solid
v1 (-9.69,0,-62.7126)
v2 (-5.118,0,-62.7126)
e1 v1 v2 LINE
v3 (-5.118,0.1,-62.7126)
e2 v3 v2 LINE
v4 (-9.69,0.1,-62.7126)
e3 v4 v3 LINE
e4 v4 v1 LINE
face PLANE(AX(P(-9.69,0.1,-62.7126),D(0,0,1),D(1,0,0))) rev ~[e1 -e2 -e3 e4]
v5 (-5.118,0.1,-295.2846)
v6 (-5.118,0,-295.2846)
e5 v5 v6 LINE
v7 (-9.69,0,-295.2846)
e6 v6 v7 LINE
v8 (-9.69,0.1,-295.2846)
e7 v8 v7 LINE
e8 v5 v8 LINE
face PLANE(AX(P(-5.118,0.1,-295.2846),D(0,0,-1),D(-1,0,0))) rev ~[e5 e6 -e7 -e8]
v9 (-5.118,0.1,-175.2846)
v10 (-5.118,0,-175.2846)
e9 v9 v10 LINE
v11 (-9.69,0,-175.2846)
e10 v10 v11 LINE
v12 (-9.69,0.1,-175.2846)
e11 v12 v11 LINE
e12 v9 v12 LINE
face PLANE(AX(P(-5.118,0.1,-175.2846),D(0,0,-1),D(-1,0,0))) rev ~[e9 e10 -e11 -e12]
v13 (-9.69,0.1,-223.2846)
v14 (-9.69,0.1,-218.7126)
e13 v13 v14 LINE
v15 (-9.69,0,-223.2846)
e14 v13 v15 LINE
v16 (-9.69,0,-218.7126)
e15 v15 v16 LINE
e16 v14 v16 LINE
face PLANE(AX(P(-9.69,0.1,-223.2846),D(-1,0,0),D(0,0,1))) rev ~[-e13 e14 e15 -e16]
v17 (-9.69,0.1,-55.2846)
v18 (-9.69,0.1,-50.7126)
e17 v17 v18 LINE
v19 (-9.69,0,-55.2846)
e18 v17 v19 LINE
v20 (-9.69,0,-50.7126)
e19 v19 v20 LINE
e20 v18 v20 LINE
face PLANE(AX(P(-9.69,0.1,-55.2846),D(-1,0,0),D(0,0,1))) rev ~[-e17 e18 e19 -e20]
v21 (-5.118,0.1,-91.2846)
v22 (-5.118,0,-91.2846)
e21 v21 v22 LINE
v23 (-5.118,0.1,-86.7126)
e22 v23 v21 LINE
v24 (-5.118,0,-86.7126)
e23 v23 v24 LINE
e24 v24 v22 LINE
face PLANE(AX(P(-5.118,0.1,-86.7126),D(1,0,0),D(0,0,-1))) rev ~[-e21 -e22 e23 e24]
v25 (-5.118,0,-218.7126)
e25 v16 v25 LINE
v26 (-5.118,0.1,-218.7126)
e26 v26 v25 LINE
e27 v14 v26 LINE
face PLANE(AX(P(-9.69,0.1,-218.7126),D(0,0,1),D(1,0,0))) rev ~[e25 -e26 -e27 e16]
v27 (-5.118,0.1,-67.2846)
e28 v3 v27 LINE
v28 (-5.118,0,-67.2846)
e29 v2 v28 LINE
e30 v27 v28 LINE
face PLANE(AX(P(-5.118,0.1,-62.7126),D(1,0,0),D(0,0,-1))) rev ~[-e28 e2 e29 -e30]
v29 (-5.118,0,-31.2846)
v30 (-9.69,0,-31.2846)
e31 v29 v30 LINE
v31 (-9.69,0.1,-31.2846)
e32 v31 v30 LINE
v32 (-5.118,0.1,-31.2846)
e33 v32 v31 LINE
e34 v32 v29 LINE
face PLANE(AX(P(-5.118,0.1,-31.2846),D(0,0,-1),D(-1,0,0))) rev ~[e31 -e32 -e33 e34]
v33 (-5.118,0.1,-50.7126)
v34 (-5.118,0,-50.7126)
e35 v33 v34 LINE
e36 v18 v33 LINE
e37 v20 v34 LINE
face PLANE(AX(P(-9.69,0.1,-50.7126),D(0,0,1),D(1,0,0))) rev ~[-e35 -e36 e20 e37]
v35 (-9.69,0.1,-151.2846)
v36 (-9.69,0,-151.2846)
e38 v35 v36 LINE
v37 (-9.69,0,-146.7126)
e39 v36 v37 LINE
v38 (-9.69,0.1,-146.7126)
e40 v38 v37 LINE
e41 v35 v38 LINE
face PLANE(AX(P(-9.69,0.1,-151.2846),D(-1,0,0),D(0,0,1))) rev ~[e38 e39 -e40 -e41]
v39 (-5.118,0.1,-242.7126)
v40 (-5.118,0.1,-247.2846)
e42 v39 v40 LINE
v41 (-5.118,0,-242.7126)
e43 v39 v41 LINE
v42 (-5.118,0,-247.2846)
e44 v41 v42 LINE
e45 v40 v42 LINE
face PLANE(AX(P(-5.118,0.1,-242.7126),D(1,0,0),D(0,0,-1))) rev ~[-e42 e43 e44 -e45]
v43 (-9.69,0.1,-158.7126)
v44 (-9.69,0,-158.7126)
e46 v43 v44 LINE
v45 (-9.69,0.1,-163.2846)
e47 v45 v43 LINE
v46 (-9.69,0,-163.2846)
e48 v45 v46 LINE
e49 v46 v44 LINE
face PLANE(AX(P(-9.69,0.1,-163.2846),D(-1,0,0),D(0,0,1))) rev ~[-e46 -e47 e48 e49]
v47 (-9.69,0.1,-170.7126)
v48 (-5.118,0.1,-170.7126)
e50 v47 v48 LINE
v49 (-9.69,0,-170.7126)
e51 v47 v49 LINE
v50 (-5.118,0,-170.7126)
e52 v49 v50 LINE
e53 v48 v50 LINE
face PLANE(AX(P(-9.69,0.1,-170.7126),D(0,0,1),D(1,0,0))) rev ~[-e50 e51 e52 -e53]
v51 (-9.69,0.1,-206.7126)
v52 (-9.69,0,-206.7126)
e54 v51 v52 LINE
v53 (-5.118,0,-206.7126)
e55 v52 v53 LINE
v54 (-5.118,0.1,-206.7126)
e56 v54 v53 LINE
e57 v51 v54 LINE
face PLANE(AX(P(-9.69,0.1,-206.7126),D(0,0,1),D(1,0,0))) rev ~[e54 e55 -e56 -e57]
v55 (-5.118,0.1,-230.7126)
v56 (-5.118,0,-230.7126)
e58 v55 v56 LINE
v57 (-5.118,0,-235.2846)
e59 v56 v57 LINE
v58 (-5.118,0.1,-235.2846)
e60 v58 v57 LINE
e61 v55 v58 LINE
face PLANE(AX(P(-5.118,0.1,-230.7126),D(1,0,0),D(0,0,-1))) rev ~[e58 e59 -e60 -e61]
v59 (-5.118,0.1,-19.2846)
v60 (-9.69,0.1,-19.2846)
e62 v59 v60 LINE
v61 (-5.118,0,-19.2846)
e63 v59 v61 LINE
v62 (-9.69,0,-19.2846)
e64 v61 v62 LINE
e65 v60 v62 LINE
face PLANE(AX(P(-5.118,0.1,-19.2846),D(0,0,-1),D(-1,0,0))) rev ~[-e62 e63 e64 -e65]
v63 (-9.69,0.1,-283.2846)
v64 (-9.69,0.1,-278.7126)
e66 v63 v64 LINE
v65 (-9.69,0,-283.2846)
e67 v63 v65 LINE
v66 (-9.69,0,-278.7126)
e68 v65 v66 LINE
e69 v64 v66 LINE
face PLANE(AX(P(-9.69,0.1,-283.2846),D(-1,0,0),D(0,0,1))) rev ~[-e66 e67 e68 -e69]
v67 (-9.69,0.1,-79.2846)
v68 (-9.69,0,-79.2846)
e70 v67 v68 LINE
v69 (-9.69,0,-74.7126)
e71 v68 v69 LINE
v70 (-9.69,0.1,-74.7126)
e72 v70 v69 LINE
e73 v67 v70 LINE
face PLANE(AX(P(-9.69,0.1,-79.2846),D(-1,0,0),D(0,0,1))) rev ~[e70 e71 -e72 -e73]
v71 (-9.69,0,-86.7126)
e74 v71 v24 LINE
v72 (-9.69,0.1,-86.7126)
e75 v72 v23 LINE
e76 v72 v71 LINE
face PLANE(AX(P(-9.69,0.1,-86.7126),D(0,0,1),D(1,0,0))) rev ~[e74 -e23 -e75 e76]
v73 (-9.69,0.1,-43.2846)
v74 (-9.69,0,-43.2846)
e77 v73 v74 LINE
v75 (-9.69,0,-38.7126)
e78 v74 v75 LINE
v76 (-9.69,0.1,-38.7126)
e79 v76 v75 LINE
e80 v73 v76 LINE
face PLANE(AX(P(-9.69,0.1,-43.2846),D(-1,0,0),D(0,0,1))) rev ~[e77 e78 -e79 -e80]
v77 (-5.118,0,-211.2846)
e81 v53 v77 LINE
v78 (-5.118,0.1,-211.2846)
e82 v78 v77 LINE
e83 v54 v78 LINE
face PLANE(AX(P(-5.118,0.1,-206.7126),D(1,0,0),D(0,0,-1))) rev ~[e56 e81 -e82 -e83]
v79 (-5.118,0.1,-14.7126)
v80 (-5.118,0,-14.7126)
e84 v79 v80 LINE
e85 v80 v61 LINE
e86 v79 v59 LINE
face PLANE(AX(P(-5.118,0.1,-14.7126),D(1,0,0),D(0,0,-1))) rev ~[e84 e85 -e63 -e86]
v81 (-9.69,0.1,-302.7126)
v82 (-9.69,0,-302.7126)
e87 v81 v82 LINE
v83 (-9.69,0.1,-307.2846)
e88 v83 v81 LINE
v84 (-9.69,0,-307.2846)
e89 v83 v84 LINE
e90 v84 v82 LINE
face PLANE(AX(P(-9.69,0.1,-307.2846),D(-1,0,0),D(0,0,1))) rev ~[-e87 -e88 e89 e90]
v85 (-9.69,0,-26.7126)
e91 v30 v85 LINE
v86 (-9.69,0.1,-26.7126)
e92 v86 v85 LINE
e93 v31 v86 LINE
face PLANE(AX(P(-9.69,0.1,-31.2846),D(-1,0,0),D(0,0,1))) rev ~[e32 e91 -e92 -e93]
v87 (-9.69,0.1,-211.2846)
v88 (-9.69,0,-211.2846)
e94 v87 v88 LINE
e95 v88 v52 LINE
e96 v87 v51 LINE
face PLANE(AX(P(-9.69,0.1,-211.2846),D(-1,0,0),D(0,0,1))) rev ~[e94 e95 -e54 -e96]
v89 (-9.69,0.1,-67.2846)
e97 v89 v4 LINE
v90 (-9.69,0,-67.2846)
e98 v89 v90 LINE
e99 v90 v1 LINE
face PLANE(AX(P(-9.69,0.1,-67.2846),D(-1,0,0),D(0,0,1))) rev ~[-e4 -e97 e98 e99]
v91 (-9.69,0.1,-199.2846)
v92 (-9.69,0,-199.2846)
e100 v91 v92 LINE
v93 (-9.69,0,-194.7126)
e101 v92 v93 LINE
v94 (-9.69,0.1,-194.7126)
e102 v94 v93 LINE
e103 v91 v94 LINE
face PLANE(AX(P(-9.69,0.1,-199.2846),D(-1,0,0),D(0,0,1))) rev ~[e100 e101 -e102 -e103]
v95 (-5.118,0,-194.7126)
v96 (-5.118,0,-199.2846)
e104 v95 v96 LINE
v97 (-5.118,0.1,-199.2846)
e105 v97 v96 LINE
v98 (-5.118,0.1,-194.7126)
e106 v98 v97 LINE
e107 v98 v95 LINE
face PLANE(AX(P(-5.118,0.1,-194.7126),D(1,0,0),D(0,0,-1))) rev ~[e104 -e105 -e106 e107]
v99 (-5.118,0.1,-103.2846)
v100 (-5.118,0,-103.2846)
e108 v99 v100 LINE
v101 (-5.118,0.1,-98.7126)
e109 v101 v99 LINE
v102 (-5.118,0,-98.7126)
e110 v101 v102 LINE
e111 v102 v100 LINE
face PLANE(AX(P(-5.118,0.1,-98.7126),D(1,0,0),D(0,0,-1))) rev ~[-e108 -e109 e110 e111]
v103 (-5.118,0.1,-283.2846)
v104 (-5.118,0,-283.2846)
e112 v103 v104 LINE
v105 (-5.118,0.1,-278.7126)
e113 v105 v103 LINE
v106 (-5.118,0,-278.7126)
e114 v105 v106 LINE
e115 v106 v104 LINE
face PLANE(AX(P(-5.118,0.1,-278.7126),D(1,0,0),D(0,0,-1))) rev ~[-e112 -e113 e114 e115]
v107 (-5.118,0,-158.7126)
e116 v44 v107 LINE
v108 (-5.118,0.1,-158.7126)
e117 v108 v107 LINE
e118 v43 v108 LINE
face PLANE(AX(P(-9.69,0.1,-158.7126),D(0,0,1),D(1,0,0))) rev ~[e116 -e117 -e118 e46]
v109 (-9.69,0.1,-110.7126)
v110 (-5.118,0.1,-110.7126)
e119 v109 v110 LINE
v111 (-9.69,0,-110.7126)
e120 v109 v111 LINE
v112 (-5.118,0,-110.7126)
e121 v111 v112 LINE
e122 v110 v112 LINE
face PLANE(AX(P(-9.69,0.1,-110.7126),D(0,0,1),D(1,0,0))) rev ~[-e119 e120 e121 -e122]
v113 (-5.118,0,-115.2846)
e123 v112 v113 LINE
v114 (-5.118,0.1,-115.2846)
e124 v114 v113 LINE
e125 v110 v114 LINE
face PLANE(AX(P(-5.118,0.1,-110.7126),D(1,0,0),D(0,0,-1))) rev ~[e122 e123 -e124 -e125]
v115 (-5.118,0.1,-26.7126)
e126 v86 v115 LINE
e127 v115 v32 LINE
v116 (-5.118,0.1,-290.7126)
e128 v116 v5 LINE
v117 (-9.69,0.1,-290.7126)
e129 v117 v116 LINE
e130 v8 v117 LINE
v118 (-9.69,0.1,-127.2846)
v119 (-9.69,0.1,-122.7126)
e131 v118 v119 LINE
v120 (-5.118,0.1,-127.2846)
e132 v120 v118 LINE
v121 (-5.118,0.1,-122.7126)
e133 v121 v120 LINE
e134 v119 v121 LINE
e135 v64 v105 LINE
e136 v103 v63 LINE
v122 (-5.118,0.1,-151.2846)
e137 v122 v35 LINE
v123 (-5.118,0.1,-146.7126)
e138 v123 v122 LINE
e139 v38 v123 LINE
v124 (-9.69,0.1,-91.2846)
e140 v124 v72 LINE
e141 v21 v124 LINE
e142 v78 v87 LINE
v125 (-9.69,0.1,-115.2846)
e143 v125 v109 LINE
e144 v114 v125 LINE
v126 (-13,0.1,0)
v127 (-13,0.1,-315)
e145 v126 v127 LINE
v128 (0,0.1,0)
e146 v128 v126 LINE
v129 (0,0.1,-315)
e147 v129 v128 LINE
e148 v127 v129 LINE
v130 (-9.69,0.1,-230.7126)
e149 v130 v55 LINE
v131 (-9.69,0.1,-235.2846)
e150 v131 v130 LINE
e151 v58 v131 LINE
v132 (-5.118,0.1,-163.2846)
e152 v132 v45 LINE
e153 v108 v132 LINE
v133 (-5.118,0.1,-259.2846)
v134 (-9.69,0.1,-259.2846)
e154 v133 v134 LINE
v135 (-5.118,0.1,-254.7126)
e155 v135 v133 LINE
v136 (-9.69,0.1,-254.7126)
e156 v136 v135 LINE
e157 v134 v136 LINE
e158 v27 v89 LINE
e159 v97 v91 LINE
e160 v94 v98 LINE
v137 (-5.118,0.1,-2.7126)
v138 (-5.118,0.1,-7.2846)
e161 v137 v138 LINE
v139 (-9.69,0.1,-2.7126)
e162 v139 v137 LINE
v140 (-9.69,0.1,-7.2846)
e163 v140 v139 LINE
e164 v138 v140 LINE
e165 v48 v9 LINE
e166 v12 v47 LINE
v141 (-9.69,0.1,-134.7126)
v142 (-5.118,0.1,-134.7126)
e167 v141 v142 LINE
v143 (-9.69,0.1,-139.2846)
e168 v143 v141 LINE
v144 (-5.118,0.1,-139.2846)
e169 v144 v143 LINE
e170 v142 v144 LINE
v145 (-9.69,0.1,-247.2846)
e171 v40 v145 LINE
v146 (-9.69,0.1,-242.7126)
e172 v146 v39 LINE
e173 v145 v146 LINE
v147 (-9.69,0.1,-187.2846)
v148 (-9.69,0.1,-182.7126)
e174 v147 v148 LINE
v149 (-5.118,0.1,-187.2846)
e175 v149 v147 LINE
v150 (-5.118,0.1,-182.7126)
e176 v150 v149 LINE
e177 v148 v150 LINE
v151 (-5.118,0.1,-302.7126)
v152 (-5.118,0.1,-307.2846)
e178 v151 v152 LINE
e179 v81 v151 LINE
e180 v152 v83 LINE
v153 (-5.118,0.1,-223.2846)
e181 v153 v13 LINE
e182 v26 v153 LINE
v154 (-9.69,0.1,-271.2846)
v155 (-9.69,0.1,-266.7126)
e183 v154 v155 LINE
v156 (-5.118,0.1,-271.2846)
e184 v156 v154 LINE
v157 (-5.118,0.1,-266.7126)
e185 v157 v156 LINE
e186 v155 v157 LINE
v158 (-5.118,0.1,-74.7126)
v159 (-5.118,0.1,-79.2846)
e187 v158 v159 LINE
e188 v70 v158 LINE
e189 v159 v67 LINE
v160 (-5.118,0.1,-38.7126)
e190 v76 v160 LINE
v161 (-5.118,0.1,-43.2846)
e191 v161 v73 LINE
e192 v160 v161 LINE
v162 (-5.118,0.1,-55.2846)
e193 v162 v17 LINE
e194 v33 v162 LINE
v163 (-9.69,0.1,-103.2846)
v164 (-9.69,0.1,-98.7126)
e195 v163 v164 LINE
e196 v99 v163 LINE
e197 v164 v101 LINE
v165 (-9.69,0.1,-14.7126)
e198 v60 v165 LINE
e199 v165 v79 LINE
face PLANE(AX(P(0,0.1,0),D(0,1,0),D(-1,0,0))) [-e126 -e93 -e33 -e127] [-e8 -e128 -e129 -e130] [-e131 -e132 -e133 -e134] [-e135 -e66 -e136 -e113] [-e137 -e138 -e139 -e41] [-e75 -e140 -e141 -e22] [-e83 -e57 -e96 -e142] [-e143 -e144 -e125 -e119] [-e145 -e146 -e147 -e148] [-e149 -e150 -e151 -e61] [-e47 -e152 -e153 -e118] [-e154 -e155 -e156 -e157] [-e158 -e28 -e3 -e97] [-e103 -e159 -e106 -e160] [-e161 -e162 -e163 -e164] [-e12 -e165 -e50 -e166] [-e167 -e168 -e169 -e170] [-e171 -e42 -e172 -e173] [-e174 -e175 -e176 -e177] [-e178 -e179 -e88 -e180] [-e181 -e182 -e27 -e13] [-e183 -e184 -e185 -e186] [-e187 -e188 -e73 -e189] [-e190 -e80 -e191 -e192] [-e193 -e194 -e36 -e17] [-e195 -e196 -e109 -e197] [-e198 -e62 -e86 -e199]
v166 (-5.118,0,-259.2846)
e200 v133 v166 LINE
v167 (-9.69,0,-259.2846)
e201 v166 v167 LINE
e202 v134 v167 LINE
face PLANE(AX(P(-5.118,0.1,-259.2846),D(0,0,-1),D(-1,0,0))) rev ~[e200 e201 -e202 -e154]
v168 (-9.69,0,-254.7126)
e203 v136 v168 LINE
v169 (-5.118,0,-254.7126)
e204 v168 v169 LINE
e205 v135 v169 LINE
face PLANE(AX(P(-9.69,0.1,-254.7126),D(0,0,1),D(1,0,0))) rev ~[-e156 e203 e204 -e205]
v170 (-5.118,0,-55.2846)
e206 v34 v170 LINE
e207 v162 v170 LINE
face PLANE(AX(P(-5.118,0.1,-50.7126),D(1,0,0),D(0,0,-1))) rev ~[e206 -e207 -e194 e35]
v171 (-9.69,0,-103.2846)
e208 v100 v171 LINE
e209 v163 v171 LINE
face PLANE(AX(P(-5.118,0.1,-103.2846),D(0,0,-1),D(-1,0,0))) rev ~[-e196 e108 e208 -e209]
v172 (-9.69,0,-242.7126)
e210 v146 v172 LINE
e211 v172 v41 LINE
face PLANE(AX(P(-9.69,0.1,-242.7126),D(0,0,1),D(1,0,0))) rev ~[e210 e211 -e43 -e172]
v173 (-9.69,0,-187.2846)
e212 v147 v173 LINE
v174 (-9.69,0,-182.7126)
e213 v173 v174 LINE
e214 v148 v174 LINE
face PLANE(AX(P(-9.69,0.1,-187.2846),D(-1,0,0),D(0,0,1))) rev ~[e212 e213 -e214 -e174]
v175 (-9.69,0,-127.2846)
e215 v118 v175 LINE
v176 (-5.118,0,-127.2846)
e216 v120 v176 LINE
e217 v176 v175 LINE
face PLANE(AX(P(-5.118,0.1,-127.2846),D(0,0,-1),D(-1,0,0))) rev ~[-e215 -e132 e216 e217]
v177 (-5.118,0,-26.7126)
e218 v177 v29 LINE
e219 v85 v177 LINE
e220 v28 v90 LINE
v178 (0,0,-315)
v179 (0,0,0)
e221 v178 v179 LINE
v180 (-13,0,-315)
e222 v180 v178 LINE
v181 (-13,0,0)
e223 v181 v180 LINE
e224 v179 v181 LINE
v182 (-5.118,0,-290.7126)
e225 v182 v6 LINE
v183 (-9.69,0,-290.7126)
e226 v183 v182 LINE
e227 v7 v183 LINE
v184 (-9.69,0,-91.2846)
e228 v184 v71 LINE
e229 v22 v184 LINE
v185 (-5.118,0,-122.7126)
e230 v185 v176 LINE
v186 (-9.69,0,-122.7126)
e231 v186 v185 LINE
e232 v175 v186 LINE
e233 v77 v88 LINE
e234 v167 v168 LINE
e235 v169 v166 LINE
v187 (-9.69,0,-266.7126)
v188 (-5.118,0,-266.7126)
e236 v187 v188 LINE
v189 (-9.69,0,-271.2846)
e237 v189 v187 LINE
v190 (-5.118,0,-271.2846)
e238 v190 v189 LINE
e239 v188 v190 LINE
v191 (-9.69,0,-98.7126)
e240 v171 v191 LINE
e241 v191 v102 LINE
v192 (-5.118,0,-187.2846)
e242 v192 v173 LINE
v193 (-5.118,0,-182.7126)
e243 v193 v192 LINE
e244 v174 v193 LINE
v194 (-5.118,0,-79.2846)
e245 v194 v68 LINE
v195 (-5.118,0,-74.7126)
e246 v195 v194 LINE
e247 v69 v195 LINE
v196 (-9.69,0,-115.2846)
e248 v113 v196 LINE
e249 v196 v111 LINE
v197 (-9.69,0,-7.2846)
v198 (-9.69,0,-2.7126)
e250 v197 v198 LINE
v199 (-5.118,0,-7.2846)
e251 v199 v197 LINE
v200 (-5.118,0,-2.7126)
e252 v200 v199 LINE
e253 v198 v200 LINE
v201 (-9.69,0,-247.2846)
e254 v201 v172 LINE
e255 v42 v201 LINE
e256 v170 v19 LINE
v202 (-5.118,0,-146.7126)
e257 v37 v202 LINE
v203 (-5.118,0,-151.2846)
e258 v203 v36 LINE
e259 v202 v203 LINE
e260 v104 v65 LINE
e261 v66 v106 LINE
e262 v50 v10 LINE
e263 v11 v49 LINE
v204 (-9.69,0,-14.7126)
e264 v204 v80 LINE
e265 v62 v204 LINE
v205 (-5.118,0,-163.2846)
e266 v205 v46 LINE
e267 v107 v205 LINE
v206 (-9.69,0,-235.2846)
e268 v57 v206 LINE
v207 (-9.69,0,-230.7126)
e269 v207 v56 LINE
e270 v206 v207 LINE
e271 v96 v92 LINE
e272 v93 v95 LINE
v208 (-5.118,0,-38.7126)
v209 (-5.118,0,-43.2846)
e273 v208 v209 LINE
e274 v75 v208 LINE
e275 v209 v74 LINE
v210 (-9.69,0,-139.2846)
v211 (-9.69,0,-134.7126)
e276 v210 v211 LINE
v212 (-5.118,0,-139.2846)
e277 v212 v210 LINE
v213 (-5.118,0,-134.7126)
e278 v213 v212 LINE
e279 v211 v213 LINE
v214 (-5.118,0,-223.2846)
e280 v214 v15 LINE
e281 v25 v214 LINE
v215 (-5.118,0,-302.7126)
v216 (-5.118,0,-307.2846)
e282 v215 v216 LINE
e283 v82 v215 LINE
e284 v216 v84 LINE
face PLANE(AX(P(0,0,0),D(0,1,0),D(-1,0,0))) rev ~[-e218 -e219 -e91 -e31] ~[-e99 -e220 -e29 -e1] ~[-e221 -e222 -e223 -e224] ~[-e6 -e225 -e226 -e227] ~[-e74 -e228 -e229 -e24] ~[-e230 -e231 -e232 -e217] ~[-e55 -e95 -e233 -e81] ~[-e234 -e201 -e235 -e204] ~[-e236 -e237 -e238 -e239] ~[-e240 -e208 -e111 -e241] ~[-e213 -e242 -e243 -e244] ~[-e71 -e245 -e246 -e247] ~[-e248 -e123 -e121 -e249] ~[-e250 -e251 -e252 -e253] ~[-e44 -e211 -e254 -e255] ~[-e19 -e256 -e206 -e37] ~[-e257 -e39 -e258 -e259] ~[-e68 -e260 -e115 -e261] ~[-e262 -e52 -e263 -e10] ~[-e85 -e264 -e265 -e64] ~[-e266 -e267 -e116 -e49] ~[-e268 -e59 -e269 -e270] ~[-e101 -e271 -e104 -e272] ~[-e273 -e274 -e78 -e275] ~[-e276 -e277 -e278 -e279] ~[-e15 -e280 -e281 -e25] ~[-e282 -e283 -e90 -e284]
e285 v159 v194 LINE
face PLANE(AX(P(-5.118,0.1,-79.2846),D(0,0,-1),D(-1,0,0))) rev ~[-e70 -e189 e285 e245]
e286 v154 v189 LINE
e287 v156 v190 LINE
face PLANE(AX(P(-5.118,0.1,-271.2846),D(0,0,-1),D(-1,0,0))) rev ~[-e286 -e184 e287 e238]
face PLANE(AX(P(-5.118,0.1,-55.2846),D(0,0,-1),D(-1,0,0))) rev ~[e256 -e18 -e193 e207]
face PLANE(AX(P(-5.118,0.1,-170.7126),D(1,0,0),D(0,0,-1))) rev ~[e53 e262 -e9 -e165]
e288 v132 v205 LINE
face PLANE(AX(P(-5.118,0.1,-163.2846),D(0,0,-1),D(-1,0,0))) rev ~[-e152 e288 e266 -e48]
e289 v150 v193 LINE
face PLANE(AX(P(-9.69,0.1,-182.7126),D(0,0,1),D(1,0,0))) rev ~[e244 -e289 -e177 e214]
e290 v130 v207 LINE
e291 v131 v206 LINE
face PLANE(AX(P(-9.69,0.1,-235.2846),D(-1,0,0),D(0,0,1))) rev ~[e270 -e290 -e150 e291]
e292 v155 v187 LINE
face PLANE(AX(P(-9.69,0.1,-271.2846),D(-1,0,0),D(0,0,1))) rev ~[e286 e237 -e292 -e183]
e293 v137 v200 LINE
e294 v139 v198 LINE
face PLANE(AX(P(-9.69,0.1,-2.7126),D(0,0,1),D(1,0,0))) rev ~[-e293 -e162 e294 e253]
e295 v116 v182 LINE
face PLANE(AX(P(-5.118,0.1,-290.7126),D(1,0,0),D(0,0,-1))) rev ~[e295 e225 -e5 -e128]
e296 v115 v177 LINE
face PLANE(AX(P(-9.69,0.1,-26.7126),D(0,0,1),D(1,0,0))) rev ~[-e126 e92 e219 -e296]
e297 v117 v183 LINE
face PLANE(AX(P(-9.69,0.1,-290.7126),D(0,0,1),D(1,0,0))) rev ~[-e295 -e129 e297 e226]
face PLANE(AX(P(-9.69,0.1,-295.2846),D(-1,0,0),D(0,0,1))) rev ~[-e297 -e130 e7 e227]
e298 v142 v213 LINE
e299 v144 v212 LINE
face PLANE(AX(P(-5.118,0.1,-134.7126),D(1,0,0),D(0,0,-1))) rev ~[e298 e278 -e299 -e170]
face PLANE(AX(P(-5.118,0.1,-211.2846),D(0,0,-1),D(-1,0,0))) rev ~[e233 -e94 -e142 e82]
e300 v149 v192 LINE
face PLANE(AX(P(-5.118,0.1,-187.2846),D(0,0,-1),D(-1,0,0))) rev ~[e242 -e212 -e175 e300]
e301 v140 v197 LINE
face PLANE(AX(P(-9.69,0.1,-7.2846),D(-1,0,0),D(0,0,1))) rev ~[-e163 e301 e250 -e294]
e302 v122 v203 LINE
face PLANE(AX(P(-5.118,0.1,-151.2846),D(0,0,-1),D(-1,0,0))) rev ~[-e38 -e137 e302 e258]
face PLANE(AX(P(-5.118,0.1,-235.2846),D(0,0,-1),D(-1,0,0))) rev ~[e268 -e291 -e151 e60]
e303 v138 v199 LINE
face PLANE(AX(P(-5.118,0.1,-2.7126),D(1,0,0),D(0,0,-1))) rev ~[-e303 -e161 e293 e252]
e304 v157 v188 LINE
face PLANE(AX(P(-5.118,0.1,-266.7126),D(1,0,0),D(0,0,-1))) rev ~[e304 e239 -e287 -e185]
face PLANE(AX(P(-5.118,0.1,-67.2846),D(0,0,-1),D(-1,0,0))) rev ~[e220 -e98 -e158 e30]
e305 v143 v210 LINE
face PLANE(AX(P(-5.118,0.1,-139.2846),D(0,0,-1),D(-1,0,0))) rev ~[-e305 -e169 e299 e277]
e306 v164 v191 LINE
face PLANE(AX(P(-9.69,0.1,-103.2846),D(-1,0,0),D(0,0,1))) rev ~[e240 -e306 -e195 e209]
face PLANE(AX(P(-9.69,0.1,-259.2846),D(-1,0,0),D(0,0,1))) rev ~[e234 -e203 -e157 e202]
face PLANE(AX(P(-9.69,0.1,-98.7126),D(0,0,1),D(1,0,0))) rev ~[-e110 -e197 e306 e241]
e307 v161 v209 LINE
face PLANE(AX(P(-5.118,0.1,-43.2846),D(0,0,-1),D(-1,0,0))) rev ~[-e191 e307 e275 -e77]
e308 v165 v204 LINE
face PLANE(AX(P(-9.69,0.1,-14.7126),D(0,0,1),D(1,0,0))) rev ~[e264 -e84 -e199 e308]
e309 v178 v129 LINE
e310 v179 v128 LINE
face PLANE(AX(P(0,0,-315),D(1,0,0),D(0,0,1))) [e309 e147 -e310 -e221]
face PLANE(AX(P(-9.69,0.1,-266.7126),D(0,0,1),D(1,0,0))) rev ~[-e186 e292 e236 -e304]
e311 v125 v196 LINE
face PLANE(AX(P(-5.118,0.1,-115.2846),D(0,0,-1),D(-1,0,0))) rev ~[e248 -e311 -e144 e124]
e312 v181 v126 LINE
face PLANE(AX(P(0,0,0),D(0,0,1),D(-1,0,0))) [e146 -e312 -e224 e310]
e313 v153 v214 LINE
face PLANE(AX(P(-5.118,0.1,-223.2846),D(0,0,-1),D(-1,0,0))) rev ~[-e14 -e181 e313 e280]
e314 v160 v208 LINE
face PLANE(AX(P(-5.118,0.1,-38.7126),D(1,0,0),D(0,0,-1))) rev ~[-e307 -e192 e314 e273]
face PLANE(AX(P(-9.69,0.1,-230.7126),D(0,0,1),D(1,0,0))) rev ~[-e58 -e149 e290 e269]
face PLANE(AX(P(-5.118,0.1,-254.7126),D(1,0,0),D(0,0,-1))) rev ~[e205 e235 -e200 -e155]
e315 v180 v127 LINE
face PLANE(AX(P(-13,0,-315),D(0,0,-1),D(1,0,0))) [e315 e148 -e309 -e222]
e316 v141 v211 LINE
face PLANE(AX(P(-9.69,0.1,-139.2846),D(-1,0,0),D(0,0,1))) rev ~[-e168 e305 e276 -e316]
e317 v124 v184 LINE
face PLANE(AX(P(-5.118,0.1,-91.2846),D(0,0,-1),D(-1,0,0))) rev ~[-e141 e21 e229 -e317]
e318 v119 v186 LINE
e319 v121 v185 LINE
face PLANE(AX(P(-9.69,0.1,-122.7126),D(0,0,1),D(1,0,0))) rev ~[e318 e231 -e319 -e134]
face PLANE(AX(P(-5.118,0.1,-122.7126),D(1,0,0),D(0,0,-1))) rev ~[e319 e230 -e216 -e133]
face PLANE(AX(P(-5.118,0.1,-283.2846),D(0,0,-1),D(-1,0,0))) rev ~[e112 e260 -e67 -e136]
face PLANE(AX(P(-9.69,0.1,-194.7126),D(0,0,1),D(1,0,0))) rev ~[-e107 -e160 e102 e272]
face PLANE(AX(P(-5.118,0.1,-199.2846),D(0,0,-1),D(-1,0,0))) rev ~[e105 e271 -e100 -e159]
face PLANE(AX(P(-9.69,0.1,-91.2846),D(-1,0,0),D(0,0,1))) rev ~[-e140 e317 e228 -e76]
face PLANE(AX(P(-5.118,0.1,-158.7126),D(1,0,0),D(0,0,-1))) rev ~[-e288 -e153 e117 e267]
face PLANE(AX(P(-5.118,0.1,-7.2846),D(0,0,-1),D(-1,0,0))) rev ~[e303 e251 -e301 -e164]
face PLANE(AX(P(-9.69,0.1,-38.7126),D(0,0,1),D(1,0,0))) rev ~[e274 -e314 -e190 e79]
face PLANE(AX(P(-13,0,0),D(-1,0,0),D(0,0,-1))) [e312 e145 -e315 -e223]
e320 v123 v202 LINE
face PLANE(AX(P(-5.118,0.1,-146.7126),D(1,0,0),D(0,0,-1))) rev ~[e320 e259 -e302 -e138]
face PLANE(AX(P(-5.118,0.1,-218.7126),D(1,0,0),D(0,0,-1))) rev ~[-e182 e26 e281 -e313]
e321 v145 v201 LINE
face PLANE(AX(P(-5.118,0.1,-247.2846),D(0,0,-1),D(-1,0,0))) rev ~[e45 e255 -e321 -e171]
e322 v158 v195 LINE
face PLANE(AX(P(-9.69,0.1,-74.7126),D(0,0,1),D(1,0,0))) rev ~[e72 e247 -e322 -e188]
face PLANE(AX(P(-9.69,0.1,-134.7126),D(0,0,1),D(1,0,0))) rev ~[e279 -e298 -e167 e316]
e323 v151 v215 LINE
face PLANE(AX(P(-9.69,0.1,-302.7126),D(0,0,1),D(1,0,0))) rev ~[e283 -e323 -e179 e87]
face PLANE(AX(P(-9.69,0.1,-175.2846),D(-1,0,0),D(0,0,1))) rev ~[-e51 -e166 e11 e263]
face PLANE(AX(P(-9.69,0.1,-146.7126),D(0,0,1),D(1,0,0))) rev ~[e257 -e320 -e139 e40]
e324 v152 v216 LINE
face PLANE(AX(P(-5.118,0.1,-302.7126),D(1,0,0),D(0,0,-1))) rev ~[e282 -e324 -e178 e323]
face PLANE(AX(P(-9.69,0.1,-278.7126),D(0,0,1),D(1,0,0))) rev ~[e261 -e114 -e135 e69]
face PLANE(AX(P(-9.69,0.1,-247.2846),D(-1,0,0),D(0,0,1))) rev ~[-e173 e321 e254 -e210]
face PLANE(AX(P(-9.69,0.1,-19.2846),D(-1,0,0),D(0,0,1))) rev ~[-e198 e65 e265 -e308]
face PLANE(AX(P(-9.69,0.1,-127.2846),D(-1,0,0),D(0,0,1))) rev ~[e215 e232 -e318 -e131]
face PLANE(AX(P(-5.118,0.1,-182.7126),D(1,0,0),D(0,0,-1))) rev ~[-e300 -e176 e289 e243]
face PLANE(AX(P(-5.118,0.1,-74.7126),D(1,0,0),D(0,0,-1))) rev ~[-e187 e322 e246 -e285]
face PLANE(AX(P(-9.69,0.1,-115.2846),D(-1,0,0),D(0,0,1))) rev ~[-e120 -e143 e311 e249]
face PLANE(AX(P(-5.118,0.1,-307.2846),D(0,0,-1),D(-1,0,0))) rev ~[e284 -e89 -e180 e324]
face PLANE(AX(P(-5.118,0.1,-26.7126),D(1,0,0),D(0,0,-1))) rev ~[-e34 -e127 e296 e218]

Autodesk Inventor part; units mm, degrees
ref_plane "YZ Plane" through (0, 0, 0) normal (1, 0, 0) x (0, 1, 0)
ref_plane "XZ Plane" through (0, 0, 0) normal (0, 1, 0) x (-1, 0, 0)
ref_plane "XY Plane" through (0, 0, 0) normal (0, 0, 1) x (1, 0, 0)
sketch "Sketch1" plane through (0, 0, 0) normal (0, 1, 0) x (-1, 0, 0)
  line L0 (0, 0) -> (13, 0)
  line L1 (13, 0) -> (13, -315)
  line L2 (13, -315) -> (0, -315)
  line L3 (0, -315) -> (0, 0)
  dimension "d0" = 13
  dimension "d1" = 315
extrude "Extrusion1" add sketch "Sketch1" along normal blind 0.1
sketch "Sketch2" plane through (0, 0.1, 0) normal (0, 1, 0) x (1, 0, 0)
  line L0 (-9.69, 2.7126) -> (-5.118, 2.7126)
  line L1 (-5.118, 2.7126) -> (-5.118, 7.2846)
  line L2 (-5.118, 7.2846) -> (-9.69, 7.2846)
  line L3 (-9.69, 7.2846) -> (-9.69, 2.7126)
  line L4 (-9.69, 14.7126) -> (-5.118, 14.7126)
  line L5 (-5.118, 14.7126) -> (-5.118, 19.2846)
  line L6 (-5.118, 19.2846) -> (-9.69, 19.2846)
  line L7 (-9.69, 19.2846) -> (-9.69, 14.7126)
  line L8 (-9.69, 26.7126) -> (-5.118, 26.7126)
  line L9 (-5.118, 26.7126) -> (-5.118, 31.2846)
  line L10 (-5.118, 31.2846) -> (-9.69, 31.2846)
  line L11 (-9.69, 31.2846) -> (-9.69, 26.7126)
  line L12 (-9.69, 38.7126) -> (-5.118, 38.7126)
  line L13 (-5.118, 38.7126) -> (-5.118, 43.2846)
  line L14 (-5.118, 43.2846) -> (-9.69, 43.2846)
  line L15 (-9.69, 43.2846) -> (-9.69, 38.7126)
  line L16 (-9.69, 50.7126) -> (-5.118, 50.7126)
  line L17 (-5.118, 50.7126) -> (-5.118, 55.2846)
  line L18 (-5.118, 55.2846) -> (-9.69, 55.2846)
  line L19 (-9.69, 55.2846) -> (-9.69, 50.7126)
  line L20 (-9.69, 62.7126) -> (-5.118, 62.7126)
  line L21 (-5.118, 62.7126) -> (-5.118, 67.2846)
  line L22 (-5.118, 67.2846) -> (-9.69, 67.2846)
  line L23 (-9.69, 67.2846) -> (-9.69, 62.7126)
  line L24 (-9.69, 74.7126) -> (-5.118, 74.7126)
  line L25 (-5.118, 74.7126) -> (-5.118, 79.2846)
  line L26 (-5.118, 79.2846) -> (-9.69, 79.2846)
  line L27 (-9.69, 79.2846) -> (-9.69, 74.7126)
  line L28 (-9.69, 86.7126) -> (-5.118, 86.7126)
  line L29 (-5.118, 86.7126) -> (-5.118, 91.2846)
  line L30 (-5.118, 91.2846) -> (-9.69, 91.2846)
  line L31 (-9.69, 91.2846) -> (-9.69, 86.7126)
  line L32 (-9.69, 98.7126) -> (-5.118, 98.7126)
  line L33 (-5.118, 98.7126) -> (-5.118, 103.2846)
  line L34 (-5.118, 103.2846) -> (-9.69, 103.2846)
  line L35 (-9.69, 103.2846) -> (-9.69, 98.7126)
  line L36 (-9.69, 110.7126) -> (-5.118, 110.7126)
  line L37 (-5.118, 110.7126) -> (-5.118, 115.2846)
  line L38 (-5.118, 115.2846) -> (-9.69, 115.2846)
  line L39 (-9.69, 115.2846) -> (-9.69, 110.7126)
  line L40 (-9.69, 122.7126) -> (-5.118, 122.7126)
  line L41 (-5.118, 122.7126) -> (-5.118, 127.2846)
  line L42 (-5.118, 127.2846) -> (-9.69, 127.2846)
  line L43 (-9.69, 127.2846) -> (-9.69, 122.7126)
  line L44 (-9.69, 134.7126) -> (-5.118, 134.7126)
  line L45 (-5.118, 134.7126) -> (-5.118, 139.2846)
  line L46 (-5.118, 139.2846) -> (-9.69, 139.2846)
  line L47 (-9.69, 139.2846) -> (-9.69, 134.7126)
  line L48 (-9.69, 146.7126) -> (-5.118, 146.7126)
  line L49 (-5.118, 146.7126) -> (-5.118, 151.2846)
  line L50 (-5.118, 151.2846) -> (-9.69, 151.2846)
  line L51 (-9.69, 151.2846) -> (-9.69, 146.7126)
  line L52 (-9.69, 158.7126) -> (-5.118, 158.7126)
  line L53 (-5.118, 158.7126) -> (-5.118, 163.2846)
  line L54 (-5.118, 163.2846) -> (-9.69, 163.2846)
  line L55 (-9.69, 163.2846) -> (-9.69, 158.7126)
  line L56 (-9.69, 170.7126) -> (-5.118, 170.7126)
  line L57 (-5.118, 170.7126) -> (-5.118, 175.2846)
  line L58 (-5.118, 175.2846) -> (-9.69, 175.2846)
  line L59 (-9.69, 175.2846) -> (-9.69, 170.7126)
  line L60 (-9.69, 182.7126) -> (-5.118, 182.7126)
  line L61 (-5.118, 182.7126) -> (-5.118, 187.2846)
  line L62 (-5.118, 187.2846) -> (-9.69, 187.2846)
  line L63 (-9.69, 187.2846) -> (-9.69, 182.7126)
  line L64 (-9.69, 194.7126) -> (-5.118, 194.7126)
  line L65 (-5.118, 194.7126) -> (-5.118, 199.2846)
  line L66 (-5.118, 199.2846) -> (-9.69, 199.2846)
  line L67 (-9.69, 199.2846) -> (-9.69, 194.7126)
  line L68 (-9.69, 206.7126) -> (-5.118, 206.7126)
  line L69 (-5.118, 206.7126) -> (-5.118, 211.2846)
  line L70 (-5.118, 211.2846) -> (-9.69, 211.2846)
  line L71 (-9.69, 211.2846) -> (-9.69, 206.7126)
  line L72 (-9.69, 218.7126) -> (-5.118, 218.7126)
  line L73 (-5.118, 218.7126) -> (-5.118, 223.2846)
  line L74 (-5.118, 223.2846) -> (-9.69, 223.2846)
  line L75 (-9.69, 223.2846) -> (-9.69, 218.7126)
  line L76 (-9.69, 230.7126) -> (-5.118, 230.7126)
  line L77 (-5.118, 230.7126) -> (-5.118, 235.2846)
  line L78 (-5.118, 235.2846) -> (-9.69, 235.2846)
  line L79 (-9.69, 235.2846) -> (-9.69, 230.7126)
  line L80 (-9.69, 242.7126) -> (-5.118, 242.7126)
  line L81 (-5.118, 242.7126) -> (-5.118, 247.2846)
  line L82 (-5.118, 247.2846) -> (-9.69, 247.2846)
  line L83 (-9.69, 247.2846) -> (-9.69, 242.7126)
  line L84 (-9.69, 254.7126) -> (-5.118, 254.7126)
  line L85 (-5.118, 254.7126) -> (-5.118, 259.2846)
  line L86 (-5.118, 259.2846) -> (-9.69, 259.2846)
  line L87 (-9.69, 259.2846) -> (-9.69, 254.7126)
  line L88 (-9.69, 266.7126) -> (-5.118, 266.7126)
  line L89 (-5.118, 266.7126) -> (-5.118, 271.2846)
  line L90 (-5.118, 271.2846) -> (-9.69, 271.2846)
  line L91 (-9.69, 271.2846) -> (-9.69, 266.7126)
  line L92 (-9.69, 278.7126) -> (-5.118, 278.7126)
  line L93 (-5.118, 278.7126) -> (-5.118, 283.2846)
  line L94 (-5.118, 283.2846) -> (-9.69, 283.2846)
  line L95 (-9.69, 283.2846) -> (-9.69, 278.7126)
  line L96 (-9.69, 290.7126) -> (-5.118, 290.7126)
  line L97 (-5.118, 290.7126) -> (-5.118, 295.2846)
  line L98 (-5.118, 295.2846) -> (-9.69, 295.2846)
  line L99 (-9.69, 295.2846) -> (-9.69, 290.7126)
  line L100 (-9.69, 302.7126) -> (-5.118, 302.7126)
  line L101 (-5.118, 302.7126) -> (-5.118, 307.2846)
  line L102 (-5.118, 307.2846) -> (-9.69, 307.2846)
  line L103 (-9.69, 307.2846) -> (-9.69, 302.7126)
  point P0 (0, 0)
  dimension "d4" = 4.572
  dimension "d5" = 4.572
  dimension "d8" = 12
extrude "Extrusion2" cut sketch "Sketch2" against normal blind 0.1
properties part number "1sqr metal plate"
